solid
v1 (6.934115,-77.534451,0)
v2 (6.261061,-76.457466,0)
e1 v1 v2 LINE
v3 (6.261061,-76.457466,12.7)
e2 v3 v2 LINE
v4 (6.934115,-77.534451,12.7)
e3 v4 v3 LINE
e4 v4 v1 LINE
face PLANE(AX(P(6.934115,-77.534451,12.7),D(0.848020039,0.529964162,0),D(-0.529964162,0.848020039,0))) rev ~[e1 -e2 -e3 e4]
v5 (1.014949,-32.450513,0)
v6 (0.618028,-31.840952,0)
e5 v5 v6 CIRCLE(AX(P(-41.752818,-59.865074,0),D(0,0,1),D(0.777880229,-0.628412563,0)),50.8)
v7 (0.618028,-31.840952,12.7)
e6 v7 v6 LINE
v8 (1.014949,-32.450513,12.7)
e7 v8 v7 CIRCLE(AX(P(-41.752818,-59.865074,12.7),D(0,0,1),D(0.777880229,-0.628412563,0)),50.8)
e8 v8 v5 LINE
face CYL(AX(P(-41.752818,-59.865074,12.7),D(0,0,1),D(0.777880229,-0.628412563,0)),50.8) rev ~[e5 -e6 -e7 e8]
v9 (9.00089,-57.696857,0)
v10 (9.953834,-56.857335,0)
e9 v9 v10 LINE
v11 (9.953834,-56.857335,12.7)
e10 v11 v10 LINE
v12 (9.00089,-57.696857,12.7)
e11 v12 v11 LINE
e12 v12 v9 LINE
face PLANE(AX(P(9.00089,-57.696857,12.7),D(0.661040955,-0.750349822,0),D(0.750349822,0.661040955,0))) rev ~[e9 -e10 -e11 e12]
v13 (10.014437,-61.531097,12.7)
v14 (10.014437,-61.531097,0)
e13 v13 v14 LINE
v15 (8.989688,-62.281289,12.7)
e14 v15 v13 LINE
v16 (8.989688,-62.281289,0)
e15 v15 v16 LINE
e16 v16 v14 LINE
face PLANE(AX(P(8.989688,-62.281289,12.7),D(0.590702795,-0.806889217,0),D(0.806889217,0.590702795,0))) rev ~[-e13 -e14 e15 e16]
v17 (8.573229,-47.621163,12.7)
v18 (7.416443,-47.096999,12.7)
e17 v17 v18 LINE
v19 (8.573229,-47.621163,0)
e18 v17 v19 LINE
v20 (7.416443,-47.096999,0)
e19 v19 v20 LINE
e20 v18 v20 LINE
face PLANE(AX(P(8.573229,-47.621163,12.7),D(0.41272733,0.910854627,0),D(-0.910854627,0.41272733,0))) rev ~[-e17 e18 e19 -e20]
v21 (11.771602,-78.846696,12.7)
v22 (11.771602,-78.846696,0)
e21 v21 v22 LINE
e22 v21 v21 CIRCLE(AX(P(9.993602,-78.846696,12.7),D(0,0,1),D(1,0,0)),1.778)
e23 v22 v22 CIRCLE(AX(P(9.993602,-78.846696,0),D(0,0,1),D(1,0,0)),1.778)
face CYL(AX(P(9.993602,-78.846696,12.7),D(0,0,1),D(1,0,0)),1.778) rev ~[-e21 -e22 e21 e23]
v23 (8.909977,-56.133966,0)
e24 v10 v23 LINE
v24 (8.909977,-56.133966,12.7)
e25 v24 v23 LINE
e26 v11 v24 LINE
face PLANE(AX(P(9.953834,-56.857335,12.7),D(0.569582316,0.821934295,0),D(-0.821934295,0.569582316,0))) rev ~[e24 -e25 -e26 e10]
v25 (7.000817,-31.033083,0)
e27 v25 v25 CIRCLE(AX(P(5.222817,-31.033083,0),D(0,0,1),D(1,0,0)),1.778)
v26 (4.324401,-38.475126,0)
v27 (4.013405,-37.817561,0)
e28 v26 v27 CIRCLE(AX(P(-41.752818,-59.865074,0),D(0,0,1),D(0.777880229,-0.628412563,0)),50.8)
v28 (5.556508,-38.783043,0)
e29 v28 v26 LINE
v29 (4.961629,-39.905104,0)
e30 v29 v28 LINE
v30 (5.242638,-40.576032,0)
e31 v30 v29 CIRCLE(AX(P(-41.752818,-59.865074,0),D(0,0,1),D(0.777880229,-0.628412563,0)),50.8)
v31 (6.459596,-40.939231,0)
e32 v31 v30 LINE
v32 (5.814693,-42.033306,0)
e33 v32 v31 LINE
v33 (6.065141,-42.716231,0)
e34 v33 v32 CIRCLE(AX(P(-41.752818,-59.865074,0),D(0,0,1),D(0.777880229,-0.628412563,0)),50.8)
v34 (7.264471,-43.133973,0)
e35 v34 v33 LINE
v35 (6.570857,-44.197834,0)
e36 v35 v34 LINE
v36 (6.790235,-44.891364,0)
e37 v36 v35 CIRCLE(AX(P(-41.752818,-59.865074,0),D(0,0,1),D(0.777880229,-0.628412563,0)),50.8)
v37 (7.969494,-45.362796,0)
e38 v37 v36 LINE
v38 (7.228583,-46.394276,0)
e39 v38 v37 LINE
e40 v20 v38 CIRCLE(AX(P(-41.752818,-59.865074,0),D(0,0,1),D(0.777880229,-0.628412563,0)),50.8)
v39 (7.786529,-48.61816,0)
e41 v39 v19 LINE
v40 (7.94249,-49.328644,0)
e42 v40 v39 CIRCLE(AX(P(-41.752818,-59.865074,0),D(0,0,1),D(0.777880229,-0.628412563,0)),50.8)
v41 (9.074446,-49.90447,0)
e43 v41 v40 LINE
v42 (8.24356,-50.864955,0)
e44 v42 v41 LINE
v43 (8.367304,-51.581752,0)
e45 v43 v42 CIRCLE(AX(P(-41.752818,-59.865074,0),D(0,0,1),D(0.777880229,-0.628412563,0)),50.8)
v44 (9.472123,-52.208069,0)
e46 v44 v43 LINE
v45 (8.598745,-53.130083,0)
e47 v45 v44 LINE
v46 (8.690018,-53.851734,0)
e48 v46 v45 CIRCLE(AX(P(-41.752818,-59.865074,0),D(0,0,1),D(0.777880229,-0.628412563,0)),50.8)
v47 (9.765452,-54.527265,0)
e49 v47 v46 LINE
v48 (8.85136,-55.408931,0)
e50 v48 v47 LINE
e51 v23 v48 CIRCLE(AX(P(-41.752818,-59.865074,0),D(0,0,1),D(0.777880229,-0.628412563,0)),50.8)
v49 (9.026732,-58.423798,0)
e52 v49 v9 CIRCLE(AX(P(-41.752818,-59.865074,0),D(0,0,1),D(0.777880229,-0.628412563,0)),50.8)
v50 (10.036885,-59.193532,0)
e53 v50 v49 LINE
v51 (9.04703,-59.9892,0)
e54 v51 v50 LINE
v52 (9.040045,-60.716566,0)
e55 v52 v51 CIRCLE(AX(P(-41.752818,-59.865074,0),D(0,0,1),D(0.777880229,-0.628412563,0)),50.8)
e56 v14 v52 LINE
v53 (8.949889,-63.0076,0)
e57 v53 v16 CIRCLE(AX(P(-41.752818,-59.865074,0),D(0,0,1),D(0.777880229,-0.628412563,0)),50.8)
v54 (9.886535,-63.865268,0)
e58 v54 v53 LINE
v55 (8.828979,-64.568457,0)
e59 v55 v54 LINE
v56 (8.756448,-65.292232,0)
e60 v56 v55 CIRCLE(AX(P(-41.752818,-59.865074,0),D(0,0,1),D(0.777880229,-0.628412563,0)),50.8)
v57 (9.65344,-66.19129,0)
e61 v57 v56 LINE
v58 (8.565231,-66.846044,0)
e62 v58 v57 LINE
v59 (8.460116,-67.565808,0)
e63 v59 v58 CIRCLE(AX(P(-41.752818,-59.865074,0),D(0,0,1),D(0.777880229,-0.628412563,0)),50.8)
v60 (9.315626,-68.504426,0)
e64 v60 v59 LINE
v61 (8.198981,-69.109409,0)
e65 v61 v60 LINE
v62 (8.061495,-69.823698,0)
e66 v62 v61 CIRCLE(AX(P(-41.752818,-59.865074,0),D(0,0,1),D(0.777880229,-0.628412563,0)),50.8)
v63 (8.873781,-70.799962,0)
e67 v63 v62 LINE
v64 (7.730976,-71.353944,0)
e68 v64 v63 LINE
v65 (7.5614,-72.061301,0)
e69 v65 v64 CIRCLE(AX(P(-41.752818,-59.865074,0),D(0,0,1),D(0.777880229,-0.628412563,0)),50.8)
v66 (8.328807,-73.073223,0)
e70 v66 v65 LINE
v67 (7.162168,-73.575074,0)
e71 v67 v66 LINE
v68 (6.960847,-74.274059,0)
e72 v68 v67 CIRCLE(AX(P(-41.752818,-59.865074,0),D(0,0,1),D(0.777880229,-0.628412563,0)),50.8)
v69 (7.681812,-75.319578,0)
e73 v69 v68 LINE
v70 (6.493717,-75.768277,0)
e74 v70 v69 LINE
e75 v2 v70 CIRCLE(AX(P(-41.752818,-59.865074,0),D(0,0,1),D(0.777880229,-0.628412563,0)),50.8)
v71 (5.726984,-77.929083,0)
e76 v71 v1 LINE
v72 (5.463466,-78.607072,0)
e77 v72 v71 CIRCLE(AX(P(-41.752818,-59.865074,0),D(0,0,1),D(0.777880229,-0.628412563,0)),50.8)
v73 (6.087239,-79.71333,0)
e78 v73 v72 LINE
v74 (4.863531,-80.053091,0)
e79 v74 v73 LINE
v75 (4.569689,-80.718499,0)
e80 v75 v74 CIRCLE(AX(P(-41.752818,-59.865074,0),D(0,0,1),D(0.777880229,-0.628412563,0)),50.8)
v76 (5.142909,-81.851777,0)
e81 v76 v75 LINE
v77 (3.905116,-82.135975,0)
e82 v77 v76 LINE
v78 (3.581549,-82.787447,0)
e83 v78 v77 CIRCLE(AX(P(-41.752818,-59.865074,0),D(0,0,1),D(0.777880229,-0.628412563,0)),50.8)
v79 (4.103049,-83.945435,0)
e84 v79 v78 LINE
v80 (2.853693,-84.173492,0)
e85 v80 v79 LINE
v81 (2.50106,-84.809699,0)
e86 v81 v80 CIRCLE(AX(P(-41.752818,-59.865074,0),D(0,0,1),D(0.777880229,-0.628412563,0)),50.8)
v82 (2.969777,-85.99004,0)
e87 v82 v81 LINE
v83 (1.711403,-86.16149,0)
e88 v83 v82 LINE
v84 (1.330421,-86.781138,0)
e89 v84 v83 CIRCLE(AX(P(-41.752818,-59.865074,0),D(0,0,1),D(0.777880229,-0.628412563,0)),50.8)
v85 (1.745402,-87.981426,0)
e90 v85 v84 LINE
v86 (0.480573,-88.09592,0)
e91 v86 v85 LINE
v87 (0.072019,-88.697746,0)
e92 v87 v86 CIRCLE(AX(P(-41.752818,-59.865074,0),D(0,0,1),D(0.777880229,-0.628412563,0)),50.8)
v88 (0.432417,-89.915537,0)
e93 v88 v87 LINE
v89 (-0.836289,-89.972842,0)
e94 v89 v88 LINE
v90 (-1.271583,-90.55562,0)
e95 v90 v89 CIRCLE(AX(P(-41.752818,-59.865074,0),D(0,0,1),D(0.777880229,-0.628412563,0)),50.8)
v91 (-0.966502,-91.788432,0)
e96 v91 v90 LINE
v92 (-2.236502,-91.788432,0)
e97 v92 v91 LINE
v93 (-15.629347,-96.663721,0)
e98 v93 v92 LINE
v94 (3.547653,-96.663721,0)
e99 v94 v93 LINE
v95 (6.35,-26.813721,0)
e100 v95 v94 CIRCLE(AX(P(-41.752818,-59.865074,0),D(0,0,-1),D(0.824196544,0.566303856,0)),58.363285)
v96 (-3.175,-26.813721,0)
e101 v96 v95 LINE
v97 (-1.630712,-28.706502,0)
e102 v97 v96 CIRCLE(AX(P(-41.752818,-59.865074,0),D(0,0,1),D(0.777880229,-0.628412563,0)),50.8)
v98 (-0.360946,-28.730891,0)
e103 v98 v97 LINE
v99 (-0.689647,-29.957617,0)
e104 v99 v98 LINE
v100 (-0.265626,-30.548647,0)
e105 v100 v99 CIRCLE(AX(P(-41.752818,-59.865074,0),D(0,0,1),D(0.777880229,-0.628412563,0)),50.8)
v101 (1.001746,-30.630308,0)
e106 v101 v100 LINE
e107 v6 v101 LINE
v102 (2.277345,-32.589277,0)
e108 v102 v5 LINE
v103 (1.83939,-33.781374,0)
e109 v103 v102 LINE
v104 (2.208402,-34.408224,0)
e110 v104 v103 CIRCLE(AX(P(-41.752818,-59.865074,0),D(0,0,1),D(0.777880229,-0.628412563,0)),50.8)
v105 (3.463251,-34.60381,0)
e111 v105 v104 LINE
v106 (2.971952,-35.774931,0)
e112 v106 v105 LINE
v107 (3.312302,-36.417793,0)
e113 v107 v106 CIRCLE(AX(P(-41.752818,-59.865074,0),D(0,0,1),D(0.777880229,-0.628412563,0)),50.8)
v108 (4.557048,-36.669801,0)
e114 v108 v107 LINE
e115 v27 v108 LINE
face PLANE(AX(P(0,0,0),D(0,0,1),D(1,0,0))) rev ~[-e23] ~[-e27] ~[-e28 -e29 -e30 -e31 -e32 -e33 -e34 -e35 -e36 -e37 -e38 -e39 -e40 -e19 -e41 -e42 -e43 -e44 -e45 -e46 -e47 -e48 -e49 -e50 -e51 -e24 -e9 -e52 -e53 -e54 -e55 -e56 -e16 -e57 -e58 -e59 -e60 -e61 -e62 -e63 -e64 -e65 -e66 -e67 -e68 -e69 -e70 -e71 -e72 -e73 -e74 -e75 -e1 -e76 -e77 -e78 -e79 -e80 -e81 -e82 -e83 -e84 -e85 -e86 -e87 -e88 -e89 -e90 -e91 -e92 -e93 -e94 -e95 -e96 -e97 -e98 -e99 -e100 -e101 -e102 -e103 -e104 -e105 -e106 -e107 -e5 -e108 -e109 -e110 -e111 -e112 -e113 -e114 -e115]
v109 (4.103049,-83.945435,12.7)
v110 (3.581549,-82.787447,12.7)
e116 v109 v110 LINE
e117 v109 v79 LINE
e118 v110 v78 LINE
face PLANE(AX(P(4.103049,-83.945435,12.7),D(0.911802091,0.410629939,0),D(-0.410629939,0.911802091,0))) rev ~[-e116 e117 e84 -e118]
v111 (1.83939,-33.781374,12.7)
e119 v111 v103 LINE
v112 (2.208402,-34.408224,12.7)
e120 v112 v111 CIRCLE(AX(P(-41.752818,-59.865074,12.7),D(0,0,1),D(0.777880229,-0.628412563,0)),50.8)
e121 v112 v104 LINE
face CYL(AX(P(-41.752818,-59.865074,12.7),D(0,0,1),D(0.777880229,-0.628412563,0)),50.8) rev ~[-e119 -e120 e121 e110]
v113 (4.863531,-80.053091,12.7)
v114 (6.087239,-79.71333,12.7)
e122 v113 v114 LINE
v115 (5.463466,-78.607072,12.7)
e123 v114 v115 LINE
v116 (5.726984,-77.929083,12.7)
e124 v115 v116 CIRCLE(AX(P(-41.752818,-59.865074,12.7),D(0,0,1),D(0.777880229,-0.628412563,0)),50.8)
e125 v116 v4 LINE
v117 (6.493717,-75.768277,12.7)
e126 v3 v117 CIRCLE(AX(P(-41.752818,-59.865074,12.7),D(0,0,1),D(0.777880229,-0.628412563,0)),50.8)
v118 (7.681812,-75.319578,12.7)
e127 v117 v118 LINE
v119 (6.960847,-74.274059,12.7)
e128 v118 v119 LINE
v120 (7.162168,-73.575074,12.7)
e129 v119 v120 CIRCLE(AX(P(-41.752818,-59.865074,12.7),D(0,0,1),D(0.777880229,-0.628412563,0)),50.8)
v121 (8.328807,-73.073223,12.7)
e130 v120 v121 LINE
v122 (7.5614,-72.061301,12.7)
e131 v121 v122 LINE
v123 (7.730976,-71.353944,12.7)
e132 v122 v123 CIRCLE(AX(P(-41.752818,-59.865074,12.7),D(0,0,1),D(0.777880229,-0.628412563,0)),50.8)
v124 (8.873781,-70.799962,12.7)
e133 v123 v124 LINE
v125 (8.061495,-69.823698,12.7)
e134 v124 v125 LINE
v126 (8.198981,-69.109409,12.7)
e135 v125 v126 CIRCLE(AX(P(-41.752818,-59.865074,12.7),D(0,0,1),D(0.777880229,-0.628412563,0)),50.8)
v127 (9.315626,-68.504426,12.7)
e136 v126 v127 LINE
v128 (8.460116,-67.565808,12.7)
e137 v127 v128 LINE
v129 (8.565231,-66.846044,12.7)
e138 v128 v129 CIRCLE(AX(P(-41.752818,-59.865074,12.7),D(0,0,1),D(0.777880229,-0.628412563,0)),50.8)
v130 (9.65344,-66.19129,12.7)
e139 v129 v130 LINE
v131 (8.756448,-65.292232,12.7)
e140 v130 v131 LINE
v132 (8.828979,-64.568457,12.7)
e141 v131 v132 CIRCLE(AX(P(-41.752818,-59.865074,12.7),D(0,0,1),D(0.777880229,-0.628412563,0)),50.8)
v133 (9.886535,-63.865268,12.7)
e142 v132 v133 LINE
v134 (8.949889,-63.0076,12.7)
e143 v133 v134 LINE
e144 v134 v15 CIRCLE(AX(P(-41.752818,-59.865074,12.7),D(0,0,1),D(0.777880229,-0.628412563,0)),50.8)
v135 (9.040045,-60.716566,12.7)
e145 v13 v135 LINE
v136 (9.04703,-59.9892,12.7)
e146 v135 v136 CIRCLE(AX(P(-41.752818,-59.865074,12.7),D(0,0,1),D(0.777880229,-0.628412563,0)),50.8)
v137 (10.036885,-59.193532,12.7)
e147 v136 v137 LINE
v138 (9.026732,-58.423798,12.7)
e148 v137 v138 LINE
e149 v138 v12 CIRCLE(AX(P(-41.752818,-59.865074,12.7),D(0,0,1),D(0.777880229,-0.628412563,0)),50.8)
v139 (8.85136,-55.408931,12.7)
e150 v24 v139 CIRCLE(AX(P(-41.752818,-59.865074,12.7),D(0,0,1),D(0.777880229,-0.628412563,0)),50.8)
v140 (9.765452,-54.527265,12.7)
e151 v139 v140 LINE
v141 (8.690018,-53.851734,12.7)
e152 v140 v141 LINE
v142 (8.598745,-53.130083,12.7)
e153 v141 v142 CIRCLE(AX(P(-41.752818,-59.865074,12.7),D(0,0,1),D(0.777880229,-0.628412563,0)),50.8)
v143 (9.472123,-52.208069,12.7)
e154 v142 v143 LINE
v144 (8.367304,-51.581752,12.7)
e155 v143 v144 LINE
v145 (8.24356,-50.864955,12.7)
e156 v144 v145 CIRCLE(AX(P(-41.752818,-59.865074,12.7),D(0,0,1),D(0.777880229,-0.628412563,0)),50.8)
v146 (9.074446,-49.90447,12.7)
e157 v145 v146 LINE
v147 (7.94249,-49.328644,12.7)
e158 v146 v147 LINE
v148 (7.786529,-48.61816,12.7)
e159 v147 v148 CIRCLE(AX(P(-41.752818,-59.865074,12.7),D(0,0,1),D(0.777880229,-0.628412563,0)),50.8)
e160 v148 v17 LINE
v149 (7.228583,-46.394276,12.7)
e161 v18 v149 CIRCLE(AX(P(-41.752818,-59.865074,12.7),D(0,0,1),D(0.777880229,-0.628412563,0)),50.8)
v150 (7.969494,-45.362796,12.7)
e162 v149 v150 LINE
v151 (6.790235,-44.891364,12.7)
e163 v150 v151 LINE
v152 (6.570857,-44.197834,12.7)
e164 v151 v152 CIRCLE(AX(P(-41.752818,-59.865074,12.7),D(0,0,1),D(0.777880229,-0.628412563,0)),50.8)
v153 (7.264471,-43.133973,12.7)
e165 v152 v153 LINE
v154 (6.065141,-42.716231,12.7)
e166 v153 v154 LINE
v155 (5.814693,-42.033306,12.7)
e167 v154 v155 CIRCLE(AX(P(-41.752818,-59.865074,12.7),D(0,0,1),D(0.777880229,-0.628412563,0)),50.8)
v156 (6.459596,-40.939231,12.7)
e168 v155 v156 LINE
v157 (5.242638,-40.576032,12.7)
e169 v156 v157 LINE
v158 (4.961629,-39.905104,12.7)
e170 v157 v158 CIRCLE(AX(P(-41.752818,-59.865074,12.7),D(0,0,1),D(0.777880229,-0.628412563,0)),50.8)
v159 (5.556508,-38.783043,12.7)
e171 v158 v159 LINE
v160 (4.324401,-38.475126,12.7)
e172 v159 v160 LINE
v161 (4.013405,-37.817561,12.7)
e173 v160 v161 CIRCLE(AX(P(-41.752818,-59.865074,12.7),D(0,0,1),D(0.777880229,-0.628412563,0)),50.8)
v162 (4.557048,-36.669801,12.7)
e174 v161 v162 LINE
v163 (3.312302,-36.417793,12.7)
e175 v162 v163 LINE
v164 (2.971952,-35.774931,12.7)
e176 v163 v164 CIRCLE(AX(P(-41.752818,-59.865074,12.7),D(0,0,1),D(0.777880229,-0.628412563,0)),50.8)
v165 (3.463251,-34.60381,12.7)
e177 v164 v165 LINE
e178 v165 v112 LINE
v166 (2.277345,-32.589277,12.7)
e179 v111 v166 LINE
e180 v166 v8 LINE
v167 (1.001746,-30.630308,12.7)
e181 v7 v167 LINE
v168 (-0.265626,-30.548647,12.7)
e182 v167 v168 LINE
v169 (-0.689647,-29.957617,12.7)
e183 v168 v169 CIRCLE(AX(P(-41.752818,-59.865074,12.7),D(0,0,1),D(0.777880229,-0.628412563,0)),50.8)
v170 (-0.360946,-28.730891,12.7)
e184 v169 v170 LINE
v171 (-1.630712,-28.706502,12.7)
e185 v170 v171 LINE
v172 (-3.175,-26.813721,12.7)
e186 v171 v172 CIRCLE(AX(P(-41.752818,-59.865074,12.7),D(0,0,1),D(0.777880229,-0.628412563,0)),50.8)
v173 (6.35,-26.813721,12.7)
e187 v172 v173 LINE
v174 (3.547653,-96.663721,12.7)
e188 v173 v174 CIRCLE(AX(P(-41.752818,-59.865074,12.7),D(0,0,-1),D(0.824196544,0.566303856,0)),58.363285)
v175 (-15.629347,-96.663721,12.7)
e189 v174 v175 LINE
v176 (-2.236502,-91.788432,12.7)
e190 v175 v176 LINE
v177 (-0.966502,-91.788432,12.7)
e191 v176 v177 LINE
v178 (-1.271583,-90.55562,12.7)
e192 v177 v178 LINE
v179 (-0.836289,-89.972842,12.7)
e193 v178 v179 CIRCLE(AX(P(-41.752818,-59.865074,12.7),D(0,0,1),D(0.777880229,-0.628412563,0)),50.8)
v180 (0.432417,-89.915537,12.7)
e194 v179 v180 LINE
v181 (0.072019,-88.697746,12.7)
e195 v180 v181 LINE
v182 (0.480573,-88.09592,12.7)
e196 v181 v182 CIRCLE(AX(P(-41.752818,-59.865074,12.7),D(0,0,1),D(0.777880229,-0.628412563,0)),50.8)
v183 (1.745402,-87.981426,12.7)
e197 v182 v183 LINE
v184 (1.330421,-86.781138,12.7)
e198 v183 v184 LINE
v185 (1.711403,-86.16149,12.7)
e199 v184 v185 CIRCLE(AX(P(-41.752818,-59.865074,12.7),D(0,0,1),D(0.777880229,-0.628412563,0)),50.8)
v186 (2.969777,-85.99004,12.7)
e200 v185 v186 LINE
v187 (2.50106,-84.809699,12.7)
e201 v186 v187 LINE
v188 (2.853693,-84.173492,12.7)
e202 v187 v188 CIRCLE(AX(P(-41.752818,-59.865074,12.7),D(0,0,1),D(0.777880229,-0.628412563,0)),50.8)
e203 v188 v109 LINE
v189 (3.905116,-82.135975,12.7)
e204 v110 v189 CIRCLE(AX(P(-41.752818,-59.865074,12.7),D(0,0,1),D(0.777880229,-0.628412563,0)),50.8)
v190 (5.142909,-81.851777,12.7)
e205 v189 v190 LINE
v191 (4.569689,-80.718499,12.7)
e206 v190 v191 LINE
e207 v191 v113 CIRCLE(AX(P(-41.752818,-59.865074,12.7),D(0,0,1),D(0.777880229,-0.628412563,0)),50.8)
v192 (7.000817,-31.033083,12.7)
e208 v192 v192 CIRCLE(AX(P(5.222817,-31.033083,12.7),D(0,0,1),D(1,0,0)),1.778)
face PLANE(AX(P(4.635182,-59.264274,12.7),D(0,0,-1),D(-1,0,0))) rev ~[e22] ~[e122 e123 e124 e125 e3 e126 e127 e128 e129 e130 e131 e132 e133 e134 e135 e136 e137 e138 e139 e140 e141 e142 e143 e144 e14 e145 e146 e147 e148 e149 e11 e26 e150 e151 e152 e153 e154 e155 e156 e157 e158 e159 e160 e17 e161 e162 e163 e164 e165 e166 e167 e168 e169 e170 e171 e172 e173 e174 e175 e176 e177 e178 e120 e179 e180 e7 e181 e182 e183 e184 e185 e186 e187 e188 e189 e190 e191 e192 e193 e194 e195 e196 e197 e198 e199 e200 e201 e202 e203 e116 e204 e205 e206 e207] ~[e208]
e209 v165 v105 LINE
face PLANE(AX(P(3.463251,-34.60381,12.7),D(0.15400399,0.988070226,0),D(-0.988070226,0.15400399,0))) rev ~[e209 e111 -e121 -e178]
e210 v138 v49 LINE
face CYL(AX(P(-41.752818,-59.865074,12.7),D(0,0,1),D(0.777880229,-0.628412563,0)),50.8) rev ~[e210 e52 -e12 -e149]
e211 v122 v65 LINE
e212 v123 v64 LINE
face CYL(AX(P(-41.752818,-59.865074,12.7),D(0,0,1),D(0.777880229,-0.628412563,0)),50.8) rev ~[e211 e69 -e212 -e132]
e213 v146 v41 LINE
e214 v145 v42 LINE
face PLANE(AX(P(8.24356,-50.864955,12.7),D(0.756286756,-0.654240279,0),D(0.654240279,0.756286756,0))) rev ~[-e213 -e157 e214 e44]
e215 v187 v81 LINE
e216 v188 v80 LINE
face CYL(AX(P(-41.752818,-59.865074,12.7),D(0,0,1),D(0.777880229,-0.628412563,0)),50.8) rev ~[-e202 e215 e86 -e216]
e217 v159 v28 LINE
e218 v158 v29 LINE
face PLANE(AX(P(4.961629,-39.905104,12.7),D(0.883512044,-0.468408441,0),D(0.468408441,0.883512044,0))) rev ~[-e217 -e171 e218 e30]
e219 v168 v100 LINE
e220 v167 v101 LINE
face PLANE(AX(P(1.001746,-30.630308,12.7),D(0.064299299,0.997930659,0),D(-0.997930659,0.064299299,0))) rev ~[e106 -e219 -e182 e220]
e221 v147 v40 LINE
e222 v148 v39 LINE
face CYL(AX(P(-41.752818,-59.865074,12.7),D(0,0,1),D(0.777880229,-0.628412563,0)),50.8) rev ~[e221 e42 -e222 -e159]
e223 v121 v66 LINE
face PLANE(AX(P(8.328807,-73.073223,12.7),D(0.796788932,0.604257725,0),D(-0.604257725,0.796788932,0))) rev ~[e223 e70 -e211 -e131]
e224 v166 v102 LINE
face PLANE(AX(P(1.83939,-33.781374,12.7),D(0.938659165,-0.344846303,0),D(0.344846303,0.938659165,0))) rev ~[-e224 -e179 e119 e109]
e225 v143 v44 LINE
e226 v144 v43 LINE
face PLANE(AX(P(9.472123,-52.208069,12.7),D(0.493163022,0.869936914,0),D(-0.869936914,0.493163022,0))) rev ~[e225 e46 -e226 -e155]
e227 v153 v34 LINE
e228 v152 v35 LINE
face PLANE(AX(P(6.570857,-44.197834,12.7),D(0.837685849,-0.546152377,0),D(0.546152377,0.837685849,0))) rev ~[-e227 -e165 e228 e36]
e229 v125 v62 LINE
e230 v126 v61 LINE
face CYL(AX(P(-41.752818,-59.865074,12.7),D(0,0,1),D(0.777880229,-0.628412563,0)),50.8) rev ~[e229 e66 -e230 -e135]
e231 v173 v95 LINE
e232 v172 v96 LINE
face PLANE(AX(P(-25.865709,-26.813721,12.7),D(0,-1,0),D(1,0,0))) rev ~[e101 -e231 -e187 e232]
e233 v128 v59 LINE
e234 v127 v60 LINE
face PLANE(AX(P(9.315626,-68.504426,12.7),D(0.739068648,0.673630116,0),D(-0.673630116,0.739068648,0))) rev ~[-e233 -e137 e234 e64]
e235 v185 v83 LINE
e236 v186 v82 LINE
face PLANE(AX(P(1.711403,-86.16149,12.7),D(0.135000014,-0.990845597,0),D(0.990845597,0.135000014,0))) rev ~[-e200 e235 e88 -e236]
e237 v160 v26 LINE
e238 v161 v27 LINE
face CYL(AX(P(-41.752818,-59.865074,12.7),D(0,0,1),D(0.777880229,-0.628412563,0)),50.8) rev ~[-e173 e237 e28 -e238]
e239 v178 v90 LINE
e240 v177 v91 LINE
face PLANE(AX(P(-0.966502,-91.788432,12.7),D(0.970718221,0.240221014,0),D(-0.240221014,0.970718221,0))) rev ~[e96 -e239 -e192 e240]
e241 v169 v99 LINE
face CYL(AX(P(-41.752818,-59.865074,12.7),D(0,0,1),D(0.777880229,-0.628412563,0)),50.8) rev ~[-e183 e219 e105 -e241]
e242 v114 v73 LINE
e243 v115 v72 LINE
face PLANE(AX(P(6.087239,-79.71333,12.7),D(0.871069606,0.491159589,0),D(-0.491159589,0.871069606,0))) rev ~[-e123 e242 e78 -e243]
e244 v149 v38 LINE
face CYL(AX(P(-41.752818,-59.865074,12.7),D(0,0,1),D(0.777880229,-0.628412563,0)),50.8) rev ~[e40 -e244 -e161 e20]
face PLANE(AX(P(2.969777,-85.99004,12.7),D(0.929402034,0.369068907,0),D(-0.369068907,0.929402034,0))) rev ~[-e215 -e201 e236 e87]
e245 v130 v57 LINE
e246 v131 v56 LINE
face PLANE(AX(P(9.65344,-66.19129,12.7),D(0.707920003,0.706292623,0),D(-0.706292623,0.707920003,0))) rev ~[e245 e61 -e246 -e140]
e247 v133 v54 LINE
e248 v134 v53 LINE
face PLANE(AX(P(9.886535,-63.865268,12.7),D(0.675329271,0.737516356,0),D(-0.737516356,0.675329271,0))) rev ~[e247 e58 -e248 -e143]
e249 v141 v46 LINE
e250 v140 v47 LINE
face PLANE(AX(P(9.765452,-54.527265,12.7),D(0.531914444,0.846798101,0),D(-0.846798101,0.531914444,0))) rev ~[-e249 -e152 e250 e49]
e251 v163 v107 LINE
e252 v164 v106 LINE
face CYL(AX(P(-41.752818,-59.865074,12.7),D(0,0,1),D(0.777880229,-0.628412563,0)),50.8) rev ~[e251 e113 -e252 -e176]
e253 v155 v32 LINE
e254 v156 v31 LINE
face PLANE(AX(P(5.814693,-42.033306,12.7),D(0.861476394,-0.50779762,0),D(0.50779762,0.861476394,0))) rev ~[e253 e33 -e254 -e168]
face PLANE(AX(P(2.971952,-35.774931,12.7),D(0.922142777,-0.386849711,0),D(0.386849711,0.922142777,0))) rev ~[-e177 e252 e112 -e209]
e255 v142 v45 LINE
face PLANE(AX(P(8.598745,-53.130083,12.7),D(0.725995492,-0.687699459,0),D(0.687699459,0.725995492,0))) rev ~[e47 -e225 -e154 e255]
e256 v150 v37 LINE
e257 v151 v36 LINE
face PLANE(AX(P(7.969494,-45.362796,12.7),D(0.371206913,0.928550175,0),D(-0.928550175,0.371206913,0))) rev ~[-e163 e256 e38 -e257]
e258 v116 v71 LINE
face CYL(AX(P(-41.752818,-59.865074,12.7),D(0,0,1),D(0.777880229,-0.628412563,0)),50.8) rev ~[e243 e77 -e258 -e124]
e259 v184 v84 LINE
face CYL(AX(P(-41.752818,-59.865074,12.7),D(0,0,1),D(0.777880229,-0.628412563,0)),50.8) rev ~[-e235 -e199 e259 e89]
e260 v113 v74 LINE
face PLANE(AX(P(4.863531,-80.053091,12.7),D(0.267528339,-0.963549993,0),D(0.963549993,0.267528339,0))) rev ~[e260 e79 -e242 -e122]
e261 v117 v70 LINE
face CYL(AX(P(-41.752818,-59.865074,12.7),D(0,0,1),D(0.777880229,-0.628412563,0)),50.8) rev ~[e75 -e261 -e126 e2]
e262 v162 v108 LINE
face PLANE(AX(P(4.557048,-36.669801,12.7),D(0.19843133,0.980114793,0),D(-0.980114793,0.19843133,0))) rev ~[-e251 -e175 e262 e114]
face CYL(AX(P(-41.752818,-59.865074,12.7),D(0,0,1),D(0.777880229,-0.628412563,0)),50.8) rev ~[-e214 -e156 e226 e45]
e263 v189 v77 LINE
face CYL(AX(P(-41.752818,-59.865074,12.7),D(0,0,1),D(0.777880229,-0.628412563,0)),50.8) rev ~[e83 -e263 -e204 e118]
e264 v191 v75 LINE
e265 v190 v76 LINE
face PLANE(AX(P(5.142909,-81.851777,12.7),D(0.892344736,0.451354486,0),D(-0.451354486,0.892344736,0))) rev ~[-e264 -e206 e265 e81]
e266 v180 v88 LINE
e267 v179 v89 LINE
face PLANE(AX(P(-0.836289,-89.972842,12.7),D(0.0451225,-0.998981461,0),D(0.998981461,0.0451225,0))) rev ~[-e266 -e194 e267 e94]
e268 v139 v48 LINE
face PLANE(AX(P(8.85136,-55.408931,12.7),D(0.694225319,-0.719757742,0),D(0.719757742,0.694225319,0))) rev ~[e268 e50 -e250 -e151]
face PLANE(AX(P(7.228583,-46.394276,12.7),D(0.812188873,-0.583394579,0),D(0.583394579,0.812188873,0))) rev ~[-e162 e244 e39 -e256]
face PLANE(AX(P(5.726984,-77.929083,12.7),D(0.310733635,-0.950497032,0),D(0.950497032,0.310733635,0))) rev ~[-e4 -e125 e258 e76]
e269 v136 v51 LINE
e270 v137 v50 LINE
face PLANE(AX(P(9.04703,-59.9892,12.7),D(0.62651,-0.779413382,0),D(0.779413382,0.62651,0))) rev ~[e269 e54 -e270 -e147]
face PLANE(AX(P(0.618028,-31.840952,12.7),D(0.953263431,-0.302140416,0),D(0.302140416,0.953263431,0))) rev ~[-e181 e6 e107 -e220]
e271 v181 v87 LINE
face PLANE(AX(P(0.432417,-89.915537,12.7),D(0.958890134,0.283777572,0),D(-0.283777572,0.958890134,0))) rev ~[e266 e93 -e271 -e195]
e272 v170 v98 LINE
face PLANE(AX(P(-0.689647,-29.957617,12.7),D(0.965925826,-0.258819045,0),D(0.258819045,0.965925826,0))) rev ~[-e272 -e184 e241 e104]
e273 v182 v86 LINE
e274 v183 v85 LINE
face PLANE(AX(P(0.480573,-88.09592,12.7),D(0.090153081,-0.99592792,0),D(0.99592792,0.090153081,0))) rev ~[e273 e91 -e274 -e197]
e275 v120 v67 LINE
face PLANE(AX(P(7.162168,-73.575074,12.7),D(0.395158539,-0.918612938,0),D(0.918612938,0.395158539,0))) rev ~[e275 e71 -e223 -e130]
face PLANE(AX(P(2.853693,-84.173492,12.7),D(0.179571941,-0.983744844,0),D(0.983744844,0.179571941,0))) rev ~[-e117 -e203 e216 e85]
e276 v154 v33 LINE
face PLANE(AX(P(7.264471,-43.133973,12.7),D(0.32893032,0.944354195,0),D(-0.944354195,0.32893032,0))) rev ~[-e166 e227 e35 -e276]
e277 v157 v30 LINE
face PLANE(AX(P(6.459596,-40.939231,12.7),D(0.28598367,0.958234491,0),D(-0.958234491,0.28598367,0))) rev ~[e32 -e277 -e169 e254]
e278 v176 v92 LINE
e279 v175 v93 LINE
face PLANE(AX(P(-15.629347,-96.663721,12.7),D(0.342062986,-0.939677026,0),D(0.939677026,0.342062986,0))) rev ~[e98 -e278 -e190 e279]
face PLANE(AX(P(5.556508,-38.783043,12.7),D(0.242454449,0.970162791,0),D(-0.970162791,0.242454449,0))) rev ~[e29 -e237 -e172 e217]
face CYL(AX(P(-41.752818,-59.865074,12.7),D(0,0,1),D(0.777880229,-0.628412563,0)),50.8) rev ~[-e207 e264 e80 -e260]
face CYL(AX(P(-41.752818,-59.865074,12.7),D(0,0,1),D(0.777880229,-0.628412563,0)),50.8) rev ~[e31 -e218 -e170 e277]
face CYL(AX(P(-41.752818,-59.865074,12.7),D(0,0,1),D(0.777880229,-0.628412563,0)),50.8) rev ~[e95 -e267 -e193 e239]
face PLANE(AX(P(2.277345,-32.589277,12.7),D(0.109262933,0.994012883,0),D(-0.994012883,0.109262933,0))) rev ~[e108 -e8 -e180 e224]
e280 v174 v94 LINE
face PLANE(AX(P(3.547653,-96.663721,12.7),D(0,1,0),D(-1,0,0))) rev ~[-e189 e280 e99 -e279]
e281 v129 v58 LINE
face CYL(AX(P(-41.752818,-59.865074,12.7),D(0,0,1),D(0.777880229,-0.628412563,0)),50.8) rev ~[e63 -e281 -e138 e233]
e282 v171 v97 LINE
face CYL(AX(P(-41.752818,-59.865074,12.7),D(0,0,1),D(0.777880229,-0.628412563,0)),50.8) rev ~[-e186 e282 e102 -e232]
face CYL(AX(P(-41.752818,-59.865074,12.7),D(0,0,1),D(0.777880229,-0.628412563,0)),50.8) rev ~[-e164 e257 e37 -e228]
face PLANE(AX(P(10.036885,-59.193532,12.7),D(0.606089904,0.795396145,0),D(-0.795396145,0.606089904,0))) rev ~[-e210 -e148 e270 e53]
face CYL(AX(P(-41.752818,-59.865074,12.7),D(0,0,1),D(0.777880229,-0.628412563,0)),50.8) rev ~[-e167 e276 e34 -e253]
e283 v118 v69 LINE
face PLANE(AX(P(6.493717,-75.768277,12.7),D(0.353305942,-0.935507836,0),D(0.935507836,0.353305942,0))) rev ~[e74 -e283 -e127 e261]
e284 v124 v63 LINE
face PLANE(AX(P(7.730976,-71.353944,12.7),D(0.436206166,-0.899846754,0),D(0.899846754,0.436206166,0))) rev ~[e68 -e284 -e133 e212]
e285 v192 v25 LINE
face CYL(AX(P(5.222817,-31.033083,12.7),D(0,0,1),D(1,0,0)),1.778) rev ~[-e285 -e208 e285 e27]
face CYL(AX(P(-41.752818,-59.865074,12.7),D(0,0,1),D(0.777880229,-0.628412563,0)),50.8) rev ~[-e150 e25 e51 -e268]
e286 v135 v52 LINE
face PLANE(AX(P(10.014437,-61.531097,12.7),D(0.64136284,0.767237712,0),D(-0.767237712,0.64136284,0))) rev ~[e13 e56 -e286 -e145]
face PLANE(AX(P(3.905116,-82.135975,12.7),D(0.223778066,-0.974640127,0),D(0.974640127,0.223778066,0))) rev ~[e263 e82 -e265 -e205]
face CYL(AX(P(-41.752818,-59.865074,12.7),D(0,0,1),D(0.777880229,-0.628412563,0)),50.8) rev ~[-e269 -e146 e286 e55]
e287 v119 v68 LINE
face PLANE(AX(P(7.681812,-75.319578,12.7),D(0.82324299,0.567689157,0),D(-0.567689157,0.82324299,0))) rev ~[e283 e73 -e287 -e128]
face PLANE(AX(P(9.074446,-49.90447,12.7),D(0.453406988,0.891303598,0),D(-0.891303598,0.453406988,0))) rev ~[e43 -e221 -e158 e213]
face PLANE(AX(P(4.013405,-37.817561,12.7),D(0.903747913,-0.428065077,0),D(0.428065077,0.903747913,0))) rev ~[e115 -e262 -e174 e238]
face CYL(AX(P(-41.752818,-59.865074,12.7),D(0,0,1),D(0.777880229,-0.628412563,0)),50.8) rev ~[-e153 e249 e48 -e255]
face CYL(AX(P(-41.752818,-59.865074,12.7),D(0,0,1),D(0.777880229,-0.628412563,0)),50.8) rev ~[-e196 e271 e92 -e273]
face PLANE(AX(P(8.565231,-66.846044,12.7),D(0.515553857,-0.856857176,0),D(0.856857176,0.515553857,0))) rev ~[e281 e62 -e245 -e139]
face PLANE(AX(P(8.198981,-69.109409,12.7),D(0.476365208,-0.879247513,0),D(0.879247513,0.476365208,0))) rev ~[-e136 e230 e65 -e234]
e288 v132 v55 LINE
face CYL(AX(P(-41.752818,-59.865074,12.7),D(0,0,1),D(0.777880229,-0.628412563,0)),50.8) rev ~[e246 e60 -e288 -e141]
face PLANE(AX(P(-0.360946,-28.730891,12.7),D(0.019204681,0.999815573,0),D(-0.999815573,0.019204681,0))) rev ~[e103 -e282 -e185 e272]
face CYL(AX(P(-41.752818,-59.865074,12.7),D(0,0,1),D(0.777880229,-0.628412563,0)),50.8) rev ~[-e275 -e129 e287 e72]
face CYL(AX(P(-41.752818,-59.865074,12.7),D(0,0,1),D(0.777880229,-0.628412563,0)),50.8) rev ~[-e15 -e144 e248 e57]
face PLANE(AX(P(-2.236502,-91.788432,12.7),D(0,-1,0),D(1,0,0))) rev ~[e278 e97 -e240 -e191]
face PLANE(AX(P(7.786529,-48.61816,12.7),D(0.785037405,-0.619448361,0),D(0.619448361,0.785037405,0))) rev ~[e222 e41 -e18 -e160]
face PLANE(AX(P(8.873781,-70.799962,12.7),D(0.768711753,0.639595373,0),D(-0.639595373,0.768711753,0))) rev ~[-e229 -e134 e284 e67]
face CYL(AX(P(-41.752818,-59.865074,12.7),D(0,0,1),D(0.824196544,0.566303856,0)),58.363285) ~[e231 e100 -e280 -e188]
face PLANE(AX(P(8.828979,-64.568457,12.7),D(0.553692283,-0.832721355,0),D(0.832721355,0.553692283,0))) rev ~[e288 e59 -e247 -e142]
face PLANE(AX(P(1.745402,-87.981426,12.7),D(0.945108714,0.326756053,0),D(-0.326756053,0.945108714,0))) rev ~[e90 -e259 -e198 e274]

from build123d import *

# Parameters (mm, degrees)
SKETCH1_R                                 = 21.166666667
BOSS_EXTRUDE1_DEPTH                       = 12.7
CUT_EXTRUDE_DCLTBC_DEPTH                  = 13.7
FILLET_TIP_DCLTBC_R                       = 0.376401082
FILLET_ROOT_DCLTBC_R                      = 0.752802164
CIRPATTERN_DCLTBC_COUNT                   = 18
FILLET_TIP_DCLTBC_OF_CIRPATTERN_DCLTBC_R  = 0.376401082
FILLET_ROOT_DCLTBC_OF_CIRPATTERN_DCLTBC_R = 0.752802164
SKETCH4_R                                 = 3.556
CUT_EXTRUDE2_DEPTH                        = 13.7000001
SKETCH5_R                                 = 1
CUT_EXTRUDE3_DEPTH                        = 13.7000001
BOSS_EXTRUDE3_DEPTH                       = 12.7
SKETCH9_R                                 = 1.778
CUT_EXTRUDE4_DEPTH                        = 101.6
SKETCH10_R                                = 2.75
CUT_EXTRUDE5_DEPTH                        = 7.7
CUT_EXTRUDE6_DEPTH                        = 13.7000001
CIRPATTERN1_COUNT                         = 30
CIRPATTERN1_ANGLE                         = 75
SKETCH12_W                                = 54.92757211
SKETCH12_H                                = 48.855993121
CUT_EXTRUDE7_DEPTH                        = 13.7000001


with BuildPart() as part:
    # Sketch1 → Boss-Extrude1 (new body)
    with BuildSketch(Plane.XY):
        Circle(SKETCH1_R)
    extrude(amount=BOSS_EXTRUDE1_DEPTH)

    # DCLTBC → Cut-Extrude-DCLTBC (cut, through all)
    with BuildSketch(Plane.XY):
        with BuildLine():
            Line((-0.988599485, 17.23683661), (-0.939299003, 16.37725256))
            ThreePointArc((-0.939299003, 16.37725256), (0, 16.404166667), (0.939299003, 16.37725256))
            Line((0.939299003, 16.37725256), (0.988599485, 17.23683661))
            add(Edge.make_bspline(
                [(0.988599485, 17.23683661), (0.989063314, 17.24324115), (0.990661792, 17.261181979), (0.994858273, 17.295004515), (1.003369641, 17.350013815), (1.016655031, 17.419804647), (1.036619493, 17.509601098), (1.063718234, 17.614795353), (1.097234262, 17.729707804), (1.137709634, 17.85389969), (1.181621422, 17.977005275), (1.228695452, 18.099012466), (1.278527467, 18.219794849), (1.342341331, 18.365146152), (1.42364652, 18.538069209), (1.525589195, 18.738036686), (1.649316002, 18.962165854), (1.783980218, 19.187521629), (1.923498112, 19.406676656), (2.072405817, 19.624910262), (2.222105415, 19.833784741), (2.385586794, 20.047220122), (2.540566559, 20.242458208), (2.722891612, 20.457068476), (2.872582231, 20.629074977), (3.034353491, 20.803165616), (3.114136758, 20.887359483), (3.155350355, 20.930158669)],
                knots=[0, 0, 0, 0, 0, 0.005376749, 0.015083688, 0.02853182, 0.04661014, 0.064854849, 0.092110525, 0.119476176, 0.146842496, 0.174208854, 0.201574956, 0.228941013, 0.256307345, 0.307035032, 0.361767352, 0.416499661, 0.471231937, 0.525964282, 0.580696616, 0.635428982, 0.690161387, 0.744893688, 0.799626082, 0.854358408, 0.909090915, 0.909090915, 0.909090915, 0.909090915, 0.909090915], degree=4))
            ThreePointArc((3.155350355, 20.930158669), (0, 21.166666667), (-3.155350355, 20.930158669))
            add(Edge.make_bspline(
                [(-0.988599485, 17.23683661), (-0.989063314, 17.24324115), (-0.990661792, 17.261181979), (-0.994858273, 17.295004515), (-1.003369641, 17.350013815), (-1.016655031, 17.419804647), (-1.036619493, 17.509601098), (-1.063718234, 17.614795353), (-1.097234262, 17.729707804), (-1.137709634, 17.85389969), (-1.181621422, 17.977005275), (-1.228695452, 18.099012466), (-1.278527467, 18.219794849), (-1.342341331, 18.365146152), (-1.42364652, 18.538069209), (-1.525589195, 18.738036686), (-1.649316002, 18.962165854), (-1.783980218, 19.187521629), (-1.923498112, 19.406676656), (-2.072405817, 19.624910262), (-2.222105415, 19.833784741), (-2.385586794, 20.047220122), (-2.540566559, 20.242458208), (-2.722891612, 20.457068476), (-2.872582231, 20.629074977), (-3.034353491, 20.803165616), (-3.114136758, 20.887359483), (-3.155350355, 20.930158669)],
                knots=[0, 0, 0, 0, 0, 0.005376749, 0.015083688, 0.02853182, 0.04661014, 0.064854849, 0.092110525, 0.119476176, 0.146842496, 0.174208854, 0.201574956, 0.228941013, 0.256307345, 0.307035032, 0.361767352, 0.416499661, 0.471231937, 0.525964282, 0.580696616, 0.635428982, 0.690161387, 0.744893688, 0.799626082, 0.854358408, 0.909090915, 0.909090915, 0.909090915, 0.909090915, 0.909090915], degree=4))
        make_face()
    cut_extrude_dcltbc = extrude(amount=CUT_EXTRUDE_DCLTBC_DEPTH, mode=Mode.SUBTRACT)

    # Fillet-Tip-DCLTBC
    fillet_tip_dcltbc_edges = [part.edges().sort_by_distance(p)[0] for p in [
        (3.155350355, 20.930158669, 6.35),
        (-3.155350355, 20.930158669, 6.35),
    ]]
    fillet(fillet_tip_dcltbc_edges, radius=FILLET_TIP_DCLTBC_R)

    # Fillet-Root-DCLTBC
    fillet_root_dcltbc_edges = [part.edges().sort_by_distance(p)[0] for p in [
        (0.939299003, 16.37725256, 6.35),
        (-0.939299003, 16.37725256, 6.35),
    ]]
    fillet(fillet_root_dcltbc_edges, radius=FILLET_ROOT_DCLTBC_R)

    # CirPattern-DCLTBC: Cut-Extrude-DCLTBC ×18 about axis
    cirpattern_dcltbc_axis = Axis((0, 0, 12.7), (0, 0, 1))
    for i in range(1, CIRPATTERN_DCLTBC_COUNT):
        add(cut_extrude_dcltbc.rotate(cirpattern_dcltbc_axis, i * 360 / CIRPATTERN_DCLTBC_COUNT), mode=Mode.SUBTRACT)

    # Fillet-Tip-DCLTBC of CirPattern-DCLTBC
    fillet_tip_dcltbc_of_cirpattern_dcltbc_edges = [part.edges().sort_by_distance(p)[0] for p in [
        (-4.193476424, 20.747109034, 6.35),
        (-10.123595312, 18.588722273, 6.35),
        (-11.036508056, 18.061651854, 6.35),
        (-15.870785267, 14.00521163, 6.35),
        (-16.548373935, 13.1976929, 6.35),
        (-19.70372429, 7.73246577, 6.35),
        (-20.06426169, 6.741897404, 6.35),
        (-21.160103368, 0.527070418, 6.35),
        (-21.160103368, -0.527070418, 6.35),
        (-20.06426169, -6.741897404, 6.35),
        (-19.70372429, -7.73246577, 6.35),
        (-16.548373935, -13.1976929, 6.35),
        (-15.870785267, -14.00521163, 6.35),
        (-11.036508056, -18.061651854, 6.35),
        (-10.123595312, -18.588722273, 6.35),
        (-4.193476424, -20.747109034, 6.35),
        (-3.155350355, -20.930158669, 6.35),
        (3.155350355, -20.930158669, 6.35),
        (4.193476424, -20.747109034, 6.35),
        (10.123595312, -18.588722273, 6.35),
        (11.036508056, -18.061651854, 6.35),
        (15.870785267, -14.00521163, 6.35),
        (16.548373935, -13.1976929, 6.35),
        (19.70372429, -7.73246577, 6.35),
        (20.06426169, -6.741897404, 6.35),
        (21.160103368, -0.527070418, 6.35),
        (21.160103368, 0.527070418, 6.35),
        (20.06426169, 6.741897404, 6.35),
        (19.70372429, 7.73246577, 6.35),
        (16.548373935, 13.1976929, 6.35),
        (15.870785267, 14.00521163, 6.35),
        (11.036508056, 18.061651854, 6.35),
        (10.123595312, 18.588722273, 6.35),
        (4.193476424, 20.747109034, 6.35),
    ]]
    fillet(fillet_tip_dcltbc_of_cirpattern_dcltbc_edges, radius=FILLET_TIP_DCLTBC_OF_CIRPATTERN_DCLTBC_R)

    # Fillet-Root-DCLTBC of CirPattern-DCLTBC
    fillet_root_dcltbc_of_cirpattern_dcltbc_edges = [part.edges().sort_by_distance(p)[0] for p in [
        (-4.718697926, 15.710842559, 6.35),
        (-6.48400261, 15.0683242, 6.35),
        (-9.807550244, 13.149473078, 6.35),
        (-11.246639808, 11.941933556, 6.35),
        (-13.71346726, 9.002083078, 6.35),
        (-14.652766263, 7.375169482, 6.35),
        (-15.965337734, 3.768909003, 6.35),
        (-16.291552854, 1.918851122, 6.35),
        (-16.291552854, -1.918851122, 6.35),
        (-15.965337734, -3.768909003, 6.35),
        (-14.652766263, -7.375169482, 6.35),
        (-13.71346726, -9.002083078, 6.35),
        (-11.246639808, -11.941933556, 6.35),
        (-9.807550244, -13.149473078, 6.35),
        (-6.48400261, -15.0683242, 6.35),
        (-4.718697926, -15.710842559, 6.35),
        (-0.939299003, -16.37725256, 6.35),
        (0.939299003, -16.37725256, 6.35),
        (4.718697926, -15.710842559, 6.35),
        (6.48400261, -15.0683242, 6.35),
        (9.807550244, -13.149473078, 6.35),
        (11.246639808, -11.941933556, 6.35),
        (13.71346726, -9.002083078, 6.35),
        (14.652766263, -7.375169482, 6.35),
        (15.965337734, -3.768909003, 6.35),
        (16.291552854, -1.918851122, 6.35),
        (16.291552854, 1.918851122, 6.35),
        (15.965337734, 3.768909003, 6.35),
        (14.652766263, 7.375169482, 6.35),
        (13.71346726, 9.002083078, 6.35),
        (11.246639808, 11.941933556, 6.35),
        (9.807550244, 13.149473078, 6.35),
        (6.48400261, 15.0683242, 6.35),
        (4.718697926, 15.710842559, 6.35),
    ]]
    fillet(fillet_root_dcltbc_of_cirpattern_dcltbc_edges, radius=FILLET_ROOT_DCLTBC_OF_CIRPATTERN_DCLTBC_R)

    # Sketch4 → Cut-Extrude2 (cut, through all)
    with BuildSketch(Plane.XY.offset(12.7)):
        Circle(SKETCH4_R)
    extrude(amount=-CUT_EXTRUDE2_DEPTH, mode=Mode.SUBTRACT)

    # Sketch5 → Cut-Extrude3 (cut, through all)
    with BuildSketch(Plane.XY.offset(12.7)):
        with Locations((-7, 0)):
            Circle(SKETCH5_R)
        with Locations((0, 7)):
            Circle(SKETCH5_R)
        with Locations((7, 0)):
            Circle(SKETCH5_R)
        with Locations((0, -7)):
            Circle(SKETCH5_R)
    extrude(amount=-CUT_EXTRUDE3_DEPTH, mode=Mode.SUBTRACT)

    # Sketch7 → Boss-Extrude3 (add, through all)
    with BuildSketch(Plane.XY.offset(12.7)):
        with BuildLine():
            Line((6.35, -14.113720517), (6.35, -26.813720517))
            ThreePointArc((6.35, -26.813720517), (16.563553869, -62.204697552), (3.547653041, -96.663720517))
            Line((3.547653041, -96.663720517), (-15.629346959, -96.663720517))
            Line((-15.629346959, -96.663720517), (-2.2365023, -91.788432197))
            ThreePointArc((-2.2365023, -91.788432197), (9.041883703, -59.131392983), (-3.175, -26.813720517))
            Line((-3.175, -26.813720517), (-3.175, -14.113720517))
            Line((-3.175, -14.113720517), (6.35, -14.113720517))
        make_face()
    extrude(amount=-BOSS_EXTRUDE3_DEPTH)

    # Sketch9 → Cut-Extrude4 (cut)
    with BuildSketch(Plane.XY.offset(12.7)):
        with Locations((5.222816577, -31.033083261)):
            Circle(SKETCH9_R)
        with Locations((9.993601717, -78.846696124)):
            Circle(SKETCH9_R)
    extrude(amount=-CUT_EXTRUDE4_DEPTH, mode=Mode.SUBTRACT)

    # Sketch10 → Cut-Extrude5 (cut)
    with BuildSketch(Plane.XY.offset(12.7)):
        with Locations((-7, 0)):
            Circle(SKETCH10_R)
        with Locations((0, -7)):
            Circle(SKETCH10_R)
        with Locations((7, 0)):
            Circle(SKETCH10_R)
        with Locations((0, 7)):
            Circle(SKETCH10_R)
    extrude(amount=-CUT_EXTRUDE5_DEPTH, mode=Mode.SUBTRACT)

    # Sketch11 → Cut-Extrude6 (cut, through all)
    with BuildSketch(Plane.XY.offset(12.7)):
        with BuildLine():
            Line((-2.2365023, -91.788432197), (-0.9665023, -91.788432197))
            Line((-0.9665023, -91.788432197), (-1.271582988, -90.555620056))
            ThreePointArc((-1.271582988, -90.555620056), (-1.749293325, -91.175743408), (-2.2365023, -91.788432197))
        make_face()
    cut_extrude6 = extrude(amount=-CUT_EXTRUDE6_DEPTH, mode=Mode.SUBTRACT)

    # CirPattern1: Cut-Extrude6 ×30 about axis
    cirpattern1_axis = Axis((-41.752817912, -59.865073971, 0), (0, 0, 1))
    for i in range(1, CIRPATTERN1_COUNT):
        add(cut_extrude6.rotate(cirpattern1_axis, i * CIRPATTERN1_ANGLE / (CIRPATTERN1_COUNT - 1)), mode=Mode.SUBTRACT)

    # Sketch12 → Cut-Extrude7 (cut, through all)
    with BuildSketch(Plane.XY.offset(12.7)):
        with Locations((1.598076801, -2.385723956)):
            Rectangle(SKETCH12_W, SKETCH12_H)
    extrude(amount=-CUT_EXTRUDE7_DEPTH, mode=Mode.SUBTRACT)


solid = part.part
